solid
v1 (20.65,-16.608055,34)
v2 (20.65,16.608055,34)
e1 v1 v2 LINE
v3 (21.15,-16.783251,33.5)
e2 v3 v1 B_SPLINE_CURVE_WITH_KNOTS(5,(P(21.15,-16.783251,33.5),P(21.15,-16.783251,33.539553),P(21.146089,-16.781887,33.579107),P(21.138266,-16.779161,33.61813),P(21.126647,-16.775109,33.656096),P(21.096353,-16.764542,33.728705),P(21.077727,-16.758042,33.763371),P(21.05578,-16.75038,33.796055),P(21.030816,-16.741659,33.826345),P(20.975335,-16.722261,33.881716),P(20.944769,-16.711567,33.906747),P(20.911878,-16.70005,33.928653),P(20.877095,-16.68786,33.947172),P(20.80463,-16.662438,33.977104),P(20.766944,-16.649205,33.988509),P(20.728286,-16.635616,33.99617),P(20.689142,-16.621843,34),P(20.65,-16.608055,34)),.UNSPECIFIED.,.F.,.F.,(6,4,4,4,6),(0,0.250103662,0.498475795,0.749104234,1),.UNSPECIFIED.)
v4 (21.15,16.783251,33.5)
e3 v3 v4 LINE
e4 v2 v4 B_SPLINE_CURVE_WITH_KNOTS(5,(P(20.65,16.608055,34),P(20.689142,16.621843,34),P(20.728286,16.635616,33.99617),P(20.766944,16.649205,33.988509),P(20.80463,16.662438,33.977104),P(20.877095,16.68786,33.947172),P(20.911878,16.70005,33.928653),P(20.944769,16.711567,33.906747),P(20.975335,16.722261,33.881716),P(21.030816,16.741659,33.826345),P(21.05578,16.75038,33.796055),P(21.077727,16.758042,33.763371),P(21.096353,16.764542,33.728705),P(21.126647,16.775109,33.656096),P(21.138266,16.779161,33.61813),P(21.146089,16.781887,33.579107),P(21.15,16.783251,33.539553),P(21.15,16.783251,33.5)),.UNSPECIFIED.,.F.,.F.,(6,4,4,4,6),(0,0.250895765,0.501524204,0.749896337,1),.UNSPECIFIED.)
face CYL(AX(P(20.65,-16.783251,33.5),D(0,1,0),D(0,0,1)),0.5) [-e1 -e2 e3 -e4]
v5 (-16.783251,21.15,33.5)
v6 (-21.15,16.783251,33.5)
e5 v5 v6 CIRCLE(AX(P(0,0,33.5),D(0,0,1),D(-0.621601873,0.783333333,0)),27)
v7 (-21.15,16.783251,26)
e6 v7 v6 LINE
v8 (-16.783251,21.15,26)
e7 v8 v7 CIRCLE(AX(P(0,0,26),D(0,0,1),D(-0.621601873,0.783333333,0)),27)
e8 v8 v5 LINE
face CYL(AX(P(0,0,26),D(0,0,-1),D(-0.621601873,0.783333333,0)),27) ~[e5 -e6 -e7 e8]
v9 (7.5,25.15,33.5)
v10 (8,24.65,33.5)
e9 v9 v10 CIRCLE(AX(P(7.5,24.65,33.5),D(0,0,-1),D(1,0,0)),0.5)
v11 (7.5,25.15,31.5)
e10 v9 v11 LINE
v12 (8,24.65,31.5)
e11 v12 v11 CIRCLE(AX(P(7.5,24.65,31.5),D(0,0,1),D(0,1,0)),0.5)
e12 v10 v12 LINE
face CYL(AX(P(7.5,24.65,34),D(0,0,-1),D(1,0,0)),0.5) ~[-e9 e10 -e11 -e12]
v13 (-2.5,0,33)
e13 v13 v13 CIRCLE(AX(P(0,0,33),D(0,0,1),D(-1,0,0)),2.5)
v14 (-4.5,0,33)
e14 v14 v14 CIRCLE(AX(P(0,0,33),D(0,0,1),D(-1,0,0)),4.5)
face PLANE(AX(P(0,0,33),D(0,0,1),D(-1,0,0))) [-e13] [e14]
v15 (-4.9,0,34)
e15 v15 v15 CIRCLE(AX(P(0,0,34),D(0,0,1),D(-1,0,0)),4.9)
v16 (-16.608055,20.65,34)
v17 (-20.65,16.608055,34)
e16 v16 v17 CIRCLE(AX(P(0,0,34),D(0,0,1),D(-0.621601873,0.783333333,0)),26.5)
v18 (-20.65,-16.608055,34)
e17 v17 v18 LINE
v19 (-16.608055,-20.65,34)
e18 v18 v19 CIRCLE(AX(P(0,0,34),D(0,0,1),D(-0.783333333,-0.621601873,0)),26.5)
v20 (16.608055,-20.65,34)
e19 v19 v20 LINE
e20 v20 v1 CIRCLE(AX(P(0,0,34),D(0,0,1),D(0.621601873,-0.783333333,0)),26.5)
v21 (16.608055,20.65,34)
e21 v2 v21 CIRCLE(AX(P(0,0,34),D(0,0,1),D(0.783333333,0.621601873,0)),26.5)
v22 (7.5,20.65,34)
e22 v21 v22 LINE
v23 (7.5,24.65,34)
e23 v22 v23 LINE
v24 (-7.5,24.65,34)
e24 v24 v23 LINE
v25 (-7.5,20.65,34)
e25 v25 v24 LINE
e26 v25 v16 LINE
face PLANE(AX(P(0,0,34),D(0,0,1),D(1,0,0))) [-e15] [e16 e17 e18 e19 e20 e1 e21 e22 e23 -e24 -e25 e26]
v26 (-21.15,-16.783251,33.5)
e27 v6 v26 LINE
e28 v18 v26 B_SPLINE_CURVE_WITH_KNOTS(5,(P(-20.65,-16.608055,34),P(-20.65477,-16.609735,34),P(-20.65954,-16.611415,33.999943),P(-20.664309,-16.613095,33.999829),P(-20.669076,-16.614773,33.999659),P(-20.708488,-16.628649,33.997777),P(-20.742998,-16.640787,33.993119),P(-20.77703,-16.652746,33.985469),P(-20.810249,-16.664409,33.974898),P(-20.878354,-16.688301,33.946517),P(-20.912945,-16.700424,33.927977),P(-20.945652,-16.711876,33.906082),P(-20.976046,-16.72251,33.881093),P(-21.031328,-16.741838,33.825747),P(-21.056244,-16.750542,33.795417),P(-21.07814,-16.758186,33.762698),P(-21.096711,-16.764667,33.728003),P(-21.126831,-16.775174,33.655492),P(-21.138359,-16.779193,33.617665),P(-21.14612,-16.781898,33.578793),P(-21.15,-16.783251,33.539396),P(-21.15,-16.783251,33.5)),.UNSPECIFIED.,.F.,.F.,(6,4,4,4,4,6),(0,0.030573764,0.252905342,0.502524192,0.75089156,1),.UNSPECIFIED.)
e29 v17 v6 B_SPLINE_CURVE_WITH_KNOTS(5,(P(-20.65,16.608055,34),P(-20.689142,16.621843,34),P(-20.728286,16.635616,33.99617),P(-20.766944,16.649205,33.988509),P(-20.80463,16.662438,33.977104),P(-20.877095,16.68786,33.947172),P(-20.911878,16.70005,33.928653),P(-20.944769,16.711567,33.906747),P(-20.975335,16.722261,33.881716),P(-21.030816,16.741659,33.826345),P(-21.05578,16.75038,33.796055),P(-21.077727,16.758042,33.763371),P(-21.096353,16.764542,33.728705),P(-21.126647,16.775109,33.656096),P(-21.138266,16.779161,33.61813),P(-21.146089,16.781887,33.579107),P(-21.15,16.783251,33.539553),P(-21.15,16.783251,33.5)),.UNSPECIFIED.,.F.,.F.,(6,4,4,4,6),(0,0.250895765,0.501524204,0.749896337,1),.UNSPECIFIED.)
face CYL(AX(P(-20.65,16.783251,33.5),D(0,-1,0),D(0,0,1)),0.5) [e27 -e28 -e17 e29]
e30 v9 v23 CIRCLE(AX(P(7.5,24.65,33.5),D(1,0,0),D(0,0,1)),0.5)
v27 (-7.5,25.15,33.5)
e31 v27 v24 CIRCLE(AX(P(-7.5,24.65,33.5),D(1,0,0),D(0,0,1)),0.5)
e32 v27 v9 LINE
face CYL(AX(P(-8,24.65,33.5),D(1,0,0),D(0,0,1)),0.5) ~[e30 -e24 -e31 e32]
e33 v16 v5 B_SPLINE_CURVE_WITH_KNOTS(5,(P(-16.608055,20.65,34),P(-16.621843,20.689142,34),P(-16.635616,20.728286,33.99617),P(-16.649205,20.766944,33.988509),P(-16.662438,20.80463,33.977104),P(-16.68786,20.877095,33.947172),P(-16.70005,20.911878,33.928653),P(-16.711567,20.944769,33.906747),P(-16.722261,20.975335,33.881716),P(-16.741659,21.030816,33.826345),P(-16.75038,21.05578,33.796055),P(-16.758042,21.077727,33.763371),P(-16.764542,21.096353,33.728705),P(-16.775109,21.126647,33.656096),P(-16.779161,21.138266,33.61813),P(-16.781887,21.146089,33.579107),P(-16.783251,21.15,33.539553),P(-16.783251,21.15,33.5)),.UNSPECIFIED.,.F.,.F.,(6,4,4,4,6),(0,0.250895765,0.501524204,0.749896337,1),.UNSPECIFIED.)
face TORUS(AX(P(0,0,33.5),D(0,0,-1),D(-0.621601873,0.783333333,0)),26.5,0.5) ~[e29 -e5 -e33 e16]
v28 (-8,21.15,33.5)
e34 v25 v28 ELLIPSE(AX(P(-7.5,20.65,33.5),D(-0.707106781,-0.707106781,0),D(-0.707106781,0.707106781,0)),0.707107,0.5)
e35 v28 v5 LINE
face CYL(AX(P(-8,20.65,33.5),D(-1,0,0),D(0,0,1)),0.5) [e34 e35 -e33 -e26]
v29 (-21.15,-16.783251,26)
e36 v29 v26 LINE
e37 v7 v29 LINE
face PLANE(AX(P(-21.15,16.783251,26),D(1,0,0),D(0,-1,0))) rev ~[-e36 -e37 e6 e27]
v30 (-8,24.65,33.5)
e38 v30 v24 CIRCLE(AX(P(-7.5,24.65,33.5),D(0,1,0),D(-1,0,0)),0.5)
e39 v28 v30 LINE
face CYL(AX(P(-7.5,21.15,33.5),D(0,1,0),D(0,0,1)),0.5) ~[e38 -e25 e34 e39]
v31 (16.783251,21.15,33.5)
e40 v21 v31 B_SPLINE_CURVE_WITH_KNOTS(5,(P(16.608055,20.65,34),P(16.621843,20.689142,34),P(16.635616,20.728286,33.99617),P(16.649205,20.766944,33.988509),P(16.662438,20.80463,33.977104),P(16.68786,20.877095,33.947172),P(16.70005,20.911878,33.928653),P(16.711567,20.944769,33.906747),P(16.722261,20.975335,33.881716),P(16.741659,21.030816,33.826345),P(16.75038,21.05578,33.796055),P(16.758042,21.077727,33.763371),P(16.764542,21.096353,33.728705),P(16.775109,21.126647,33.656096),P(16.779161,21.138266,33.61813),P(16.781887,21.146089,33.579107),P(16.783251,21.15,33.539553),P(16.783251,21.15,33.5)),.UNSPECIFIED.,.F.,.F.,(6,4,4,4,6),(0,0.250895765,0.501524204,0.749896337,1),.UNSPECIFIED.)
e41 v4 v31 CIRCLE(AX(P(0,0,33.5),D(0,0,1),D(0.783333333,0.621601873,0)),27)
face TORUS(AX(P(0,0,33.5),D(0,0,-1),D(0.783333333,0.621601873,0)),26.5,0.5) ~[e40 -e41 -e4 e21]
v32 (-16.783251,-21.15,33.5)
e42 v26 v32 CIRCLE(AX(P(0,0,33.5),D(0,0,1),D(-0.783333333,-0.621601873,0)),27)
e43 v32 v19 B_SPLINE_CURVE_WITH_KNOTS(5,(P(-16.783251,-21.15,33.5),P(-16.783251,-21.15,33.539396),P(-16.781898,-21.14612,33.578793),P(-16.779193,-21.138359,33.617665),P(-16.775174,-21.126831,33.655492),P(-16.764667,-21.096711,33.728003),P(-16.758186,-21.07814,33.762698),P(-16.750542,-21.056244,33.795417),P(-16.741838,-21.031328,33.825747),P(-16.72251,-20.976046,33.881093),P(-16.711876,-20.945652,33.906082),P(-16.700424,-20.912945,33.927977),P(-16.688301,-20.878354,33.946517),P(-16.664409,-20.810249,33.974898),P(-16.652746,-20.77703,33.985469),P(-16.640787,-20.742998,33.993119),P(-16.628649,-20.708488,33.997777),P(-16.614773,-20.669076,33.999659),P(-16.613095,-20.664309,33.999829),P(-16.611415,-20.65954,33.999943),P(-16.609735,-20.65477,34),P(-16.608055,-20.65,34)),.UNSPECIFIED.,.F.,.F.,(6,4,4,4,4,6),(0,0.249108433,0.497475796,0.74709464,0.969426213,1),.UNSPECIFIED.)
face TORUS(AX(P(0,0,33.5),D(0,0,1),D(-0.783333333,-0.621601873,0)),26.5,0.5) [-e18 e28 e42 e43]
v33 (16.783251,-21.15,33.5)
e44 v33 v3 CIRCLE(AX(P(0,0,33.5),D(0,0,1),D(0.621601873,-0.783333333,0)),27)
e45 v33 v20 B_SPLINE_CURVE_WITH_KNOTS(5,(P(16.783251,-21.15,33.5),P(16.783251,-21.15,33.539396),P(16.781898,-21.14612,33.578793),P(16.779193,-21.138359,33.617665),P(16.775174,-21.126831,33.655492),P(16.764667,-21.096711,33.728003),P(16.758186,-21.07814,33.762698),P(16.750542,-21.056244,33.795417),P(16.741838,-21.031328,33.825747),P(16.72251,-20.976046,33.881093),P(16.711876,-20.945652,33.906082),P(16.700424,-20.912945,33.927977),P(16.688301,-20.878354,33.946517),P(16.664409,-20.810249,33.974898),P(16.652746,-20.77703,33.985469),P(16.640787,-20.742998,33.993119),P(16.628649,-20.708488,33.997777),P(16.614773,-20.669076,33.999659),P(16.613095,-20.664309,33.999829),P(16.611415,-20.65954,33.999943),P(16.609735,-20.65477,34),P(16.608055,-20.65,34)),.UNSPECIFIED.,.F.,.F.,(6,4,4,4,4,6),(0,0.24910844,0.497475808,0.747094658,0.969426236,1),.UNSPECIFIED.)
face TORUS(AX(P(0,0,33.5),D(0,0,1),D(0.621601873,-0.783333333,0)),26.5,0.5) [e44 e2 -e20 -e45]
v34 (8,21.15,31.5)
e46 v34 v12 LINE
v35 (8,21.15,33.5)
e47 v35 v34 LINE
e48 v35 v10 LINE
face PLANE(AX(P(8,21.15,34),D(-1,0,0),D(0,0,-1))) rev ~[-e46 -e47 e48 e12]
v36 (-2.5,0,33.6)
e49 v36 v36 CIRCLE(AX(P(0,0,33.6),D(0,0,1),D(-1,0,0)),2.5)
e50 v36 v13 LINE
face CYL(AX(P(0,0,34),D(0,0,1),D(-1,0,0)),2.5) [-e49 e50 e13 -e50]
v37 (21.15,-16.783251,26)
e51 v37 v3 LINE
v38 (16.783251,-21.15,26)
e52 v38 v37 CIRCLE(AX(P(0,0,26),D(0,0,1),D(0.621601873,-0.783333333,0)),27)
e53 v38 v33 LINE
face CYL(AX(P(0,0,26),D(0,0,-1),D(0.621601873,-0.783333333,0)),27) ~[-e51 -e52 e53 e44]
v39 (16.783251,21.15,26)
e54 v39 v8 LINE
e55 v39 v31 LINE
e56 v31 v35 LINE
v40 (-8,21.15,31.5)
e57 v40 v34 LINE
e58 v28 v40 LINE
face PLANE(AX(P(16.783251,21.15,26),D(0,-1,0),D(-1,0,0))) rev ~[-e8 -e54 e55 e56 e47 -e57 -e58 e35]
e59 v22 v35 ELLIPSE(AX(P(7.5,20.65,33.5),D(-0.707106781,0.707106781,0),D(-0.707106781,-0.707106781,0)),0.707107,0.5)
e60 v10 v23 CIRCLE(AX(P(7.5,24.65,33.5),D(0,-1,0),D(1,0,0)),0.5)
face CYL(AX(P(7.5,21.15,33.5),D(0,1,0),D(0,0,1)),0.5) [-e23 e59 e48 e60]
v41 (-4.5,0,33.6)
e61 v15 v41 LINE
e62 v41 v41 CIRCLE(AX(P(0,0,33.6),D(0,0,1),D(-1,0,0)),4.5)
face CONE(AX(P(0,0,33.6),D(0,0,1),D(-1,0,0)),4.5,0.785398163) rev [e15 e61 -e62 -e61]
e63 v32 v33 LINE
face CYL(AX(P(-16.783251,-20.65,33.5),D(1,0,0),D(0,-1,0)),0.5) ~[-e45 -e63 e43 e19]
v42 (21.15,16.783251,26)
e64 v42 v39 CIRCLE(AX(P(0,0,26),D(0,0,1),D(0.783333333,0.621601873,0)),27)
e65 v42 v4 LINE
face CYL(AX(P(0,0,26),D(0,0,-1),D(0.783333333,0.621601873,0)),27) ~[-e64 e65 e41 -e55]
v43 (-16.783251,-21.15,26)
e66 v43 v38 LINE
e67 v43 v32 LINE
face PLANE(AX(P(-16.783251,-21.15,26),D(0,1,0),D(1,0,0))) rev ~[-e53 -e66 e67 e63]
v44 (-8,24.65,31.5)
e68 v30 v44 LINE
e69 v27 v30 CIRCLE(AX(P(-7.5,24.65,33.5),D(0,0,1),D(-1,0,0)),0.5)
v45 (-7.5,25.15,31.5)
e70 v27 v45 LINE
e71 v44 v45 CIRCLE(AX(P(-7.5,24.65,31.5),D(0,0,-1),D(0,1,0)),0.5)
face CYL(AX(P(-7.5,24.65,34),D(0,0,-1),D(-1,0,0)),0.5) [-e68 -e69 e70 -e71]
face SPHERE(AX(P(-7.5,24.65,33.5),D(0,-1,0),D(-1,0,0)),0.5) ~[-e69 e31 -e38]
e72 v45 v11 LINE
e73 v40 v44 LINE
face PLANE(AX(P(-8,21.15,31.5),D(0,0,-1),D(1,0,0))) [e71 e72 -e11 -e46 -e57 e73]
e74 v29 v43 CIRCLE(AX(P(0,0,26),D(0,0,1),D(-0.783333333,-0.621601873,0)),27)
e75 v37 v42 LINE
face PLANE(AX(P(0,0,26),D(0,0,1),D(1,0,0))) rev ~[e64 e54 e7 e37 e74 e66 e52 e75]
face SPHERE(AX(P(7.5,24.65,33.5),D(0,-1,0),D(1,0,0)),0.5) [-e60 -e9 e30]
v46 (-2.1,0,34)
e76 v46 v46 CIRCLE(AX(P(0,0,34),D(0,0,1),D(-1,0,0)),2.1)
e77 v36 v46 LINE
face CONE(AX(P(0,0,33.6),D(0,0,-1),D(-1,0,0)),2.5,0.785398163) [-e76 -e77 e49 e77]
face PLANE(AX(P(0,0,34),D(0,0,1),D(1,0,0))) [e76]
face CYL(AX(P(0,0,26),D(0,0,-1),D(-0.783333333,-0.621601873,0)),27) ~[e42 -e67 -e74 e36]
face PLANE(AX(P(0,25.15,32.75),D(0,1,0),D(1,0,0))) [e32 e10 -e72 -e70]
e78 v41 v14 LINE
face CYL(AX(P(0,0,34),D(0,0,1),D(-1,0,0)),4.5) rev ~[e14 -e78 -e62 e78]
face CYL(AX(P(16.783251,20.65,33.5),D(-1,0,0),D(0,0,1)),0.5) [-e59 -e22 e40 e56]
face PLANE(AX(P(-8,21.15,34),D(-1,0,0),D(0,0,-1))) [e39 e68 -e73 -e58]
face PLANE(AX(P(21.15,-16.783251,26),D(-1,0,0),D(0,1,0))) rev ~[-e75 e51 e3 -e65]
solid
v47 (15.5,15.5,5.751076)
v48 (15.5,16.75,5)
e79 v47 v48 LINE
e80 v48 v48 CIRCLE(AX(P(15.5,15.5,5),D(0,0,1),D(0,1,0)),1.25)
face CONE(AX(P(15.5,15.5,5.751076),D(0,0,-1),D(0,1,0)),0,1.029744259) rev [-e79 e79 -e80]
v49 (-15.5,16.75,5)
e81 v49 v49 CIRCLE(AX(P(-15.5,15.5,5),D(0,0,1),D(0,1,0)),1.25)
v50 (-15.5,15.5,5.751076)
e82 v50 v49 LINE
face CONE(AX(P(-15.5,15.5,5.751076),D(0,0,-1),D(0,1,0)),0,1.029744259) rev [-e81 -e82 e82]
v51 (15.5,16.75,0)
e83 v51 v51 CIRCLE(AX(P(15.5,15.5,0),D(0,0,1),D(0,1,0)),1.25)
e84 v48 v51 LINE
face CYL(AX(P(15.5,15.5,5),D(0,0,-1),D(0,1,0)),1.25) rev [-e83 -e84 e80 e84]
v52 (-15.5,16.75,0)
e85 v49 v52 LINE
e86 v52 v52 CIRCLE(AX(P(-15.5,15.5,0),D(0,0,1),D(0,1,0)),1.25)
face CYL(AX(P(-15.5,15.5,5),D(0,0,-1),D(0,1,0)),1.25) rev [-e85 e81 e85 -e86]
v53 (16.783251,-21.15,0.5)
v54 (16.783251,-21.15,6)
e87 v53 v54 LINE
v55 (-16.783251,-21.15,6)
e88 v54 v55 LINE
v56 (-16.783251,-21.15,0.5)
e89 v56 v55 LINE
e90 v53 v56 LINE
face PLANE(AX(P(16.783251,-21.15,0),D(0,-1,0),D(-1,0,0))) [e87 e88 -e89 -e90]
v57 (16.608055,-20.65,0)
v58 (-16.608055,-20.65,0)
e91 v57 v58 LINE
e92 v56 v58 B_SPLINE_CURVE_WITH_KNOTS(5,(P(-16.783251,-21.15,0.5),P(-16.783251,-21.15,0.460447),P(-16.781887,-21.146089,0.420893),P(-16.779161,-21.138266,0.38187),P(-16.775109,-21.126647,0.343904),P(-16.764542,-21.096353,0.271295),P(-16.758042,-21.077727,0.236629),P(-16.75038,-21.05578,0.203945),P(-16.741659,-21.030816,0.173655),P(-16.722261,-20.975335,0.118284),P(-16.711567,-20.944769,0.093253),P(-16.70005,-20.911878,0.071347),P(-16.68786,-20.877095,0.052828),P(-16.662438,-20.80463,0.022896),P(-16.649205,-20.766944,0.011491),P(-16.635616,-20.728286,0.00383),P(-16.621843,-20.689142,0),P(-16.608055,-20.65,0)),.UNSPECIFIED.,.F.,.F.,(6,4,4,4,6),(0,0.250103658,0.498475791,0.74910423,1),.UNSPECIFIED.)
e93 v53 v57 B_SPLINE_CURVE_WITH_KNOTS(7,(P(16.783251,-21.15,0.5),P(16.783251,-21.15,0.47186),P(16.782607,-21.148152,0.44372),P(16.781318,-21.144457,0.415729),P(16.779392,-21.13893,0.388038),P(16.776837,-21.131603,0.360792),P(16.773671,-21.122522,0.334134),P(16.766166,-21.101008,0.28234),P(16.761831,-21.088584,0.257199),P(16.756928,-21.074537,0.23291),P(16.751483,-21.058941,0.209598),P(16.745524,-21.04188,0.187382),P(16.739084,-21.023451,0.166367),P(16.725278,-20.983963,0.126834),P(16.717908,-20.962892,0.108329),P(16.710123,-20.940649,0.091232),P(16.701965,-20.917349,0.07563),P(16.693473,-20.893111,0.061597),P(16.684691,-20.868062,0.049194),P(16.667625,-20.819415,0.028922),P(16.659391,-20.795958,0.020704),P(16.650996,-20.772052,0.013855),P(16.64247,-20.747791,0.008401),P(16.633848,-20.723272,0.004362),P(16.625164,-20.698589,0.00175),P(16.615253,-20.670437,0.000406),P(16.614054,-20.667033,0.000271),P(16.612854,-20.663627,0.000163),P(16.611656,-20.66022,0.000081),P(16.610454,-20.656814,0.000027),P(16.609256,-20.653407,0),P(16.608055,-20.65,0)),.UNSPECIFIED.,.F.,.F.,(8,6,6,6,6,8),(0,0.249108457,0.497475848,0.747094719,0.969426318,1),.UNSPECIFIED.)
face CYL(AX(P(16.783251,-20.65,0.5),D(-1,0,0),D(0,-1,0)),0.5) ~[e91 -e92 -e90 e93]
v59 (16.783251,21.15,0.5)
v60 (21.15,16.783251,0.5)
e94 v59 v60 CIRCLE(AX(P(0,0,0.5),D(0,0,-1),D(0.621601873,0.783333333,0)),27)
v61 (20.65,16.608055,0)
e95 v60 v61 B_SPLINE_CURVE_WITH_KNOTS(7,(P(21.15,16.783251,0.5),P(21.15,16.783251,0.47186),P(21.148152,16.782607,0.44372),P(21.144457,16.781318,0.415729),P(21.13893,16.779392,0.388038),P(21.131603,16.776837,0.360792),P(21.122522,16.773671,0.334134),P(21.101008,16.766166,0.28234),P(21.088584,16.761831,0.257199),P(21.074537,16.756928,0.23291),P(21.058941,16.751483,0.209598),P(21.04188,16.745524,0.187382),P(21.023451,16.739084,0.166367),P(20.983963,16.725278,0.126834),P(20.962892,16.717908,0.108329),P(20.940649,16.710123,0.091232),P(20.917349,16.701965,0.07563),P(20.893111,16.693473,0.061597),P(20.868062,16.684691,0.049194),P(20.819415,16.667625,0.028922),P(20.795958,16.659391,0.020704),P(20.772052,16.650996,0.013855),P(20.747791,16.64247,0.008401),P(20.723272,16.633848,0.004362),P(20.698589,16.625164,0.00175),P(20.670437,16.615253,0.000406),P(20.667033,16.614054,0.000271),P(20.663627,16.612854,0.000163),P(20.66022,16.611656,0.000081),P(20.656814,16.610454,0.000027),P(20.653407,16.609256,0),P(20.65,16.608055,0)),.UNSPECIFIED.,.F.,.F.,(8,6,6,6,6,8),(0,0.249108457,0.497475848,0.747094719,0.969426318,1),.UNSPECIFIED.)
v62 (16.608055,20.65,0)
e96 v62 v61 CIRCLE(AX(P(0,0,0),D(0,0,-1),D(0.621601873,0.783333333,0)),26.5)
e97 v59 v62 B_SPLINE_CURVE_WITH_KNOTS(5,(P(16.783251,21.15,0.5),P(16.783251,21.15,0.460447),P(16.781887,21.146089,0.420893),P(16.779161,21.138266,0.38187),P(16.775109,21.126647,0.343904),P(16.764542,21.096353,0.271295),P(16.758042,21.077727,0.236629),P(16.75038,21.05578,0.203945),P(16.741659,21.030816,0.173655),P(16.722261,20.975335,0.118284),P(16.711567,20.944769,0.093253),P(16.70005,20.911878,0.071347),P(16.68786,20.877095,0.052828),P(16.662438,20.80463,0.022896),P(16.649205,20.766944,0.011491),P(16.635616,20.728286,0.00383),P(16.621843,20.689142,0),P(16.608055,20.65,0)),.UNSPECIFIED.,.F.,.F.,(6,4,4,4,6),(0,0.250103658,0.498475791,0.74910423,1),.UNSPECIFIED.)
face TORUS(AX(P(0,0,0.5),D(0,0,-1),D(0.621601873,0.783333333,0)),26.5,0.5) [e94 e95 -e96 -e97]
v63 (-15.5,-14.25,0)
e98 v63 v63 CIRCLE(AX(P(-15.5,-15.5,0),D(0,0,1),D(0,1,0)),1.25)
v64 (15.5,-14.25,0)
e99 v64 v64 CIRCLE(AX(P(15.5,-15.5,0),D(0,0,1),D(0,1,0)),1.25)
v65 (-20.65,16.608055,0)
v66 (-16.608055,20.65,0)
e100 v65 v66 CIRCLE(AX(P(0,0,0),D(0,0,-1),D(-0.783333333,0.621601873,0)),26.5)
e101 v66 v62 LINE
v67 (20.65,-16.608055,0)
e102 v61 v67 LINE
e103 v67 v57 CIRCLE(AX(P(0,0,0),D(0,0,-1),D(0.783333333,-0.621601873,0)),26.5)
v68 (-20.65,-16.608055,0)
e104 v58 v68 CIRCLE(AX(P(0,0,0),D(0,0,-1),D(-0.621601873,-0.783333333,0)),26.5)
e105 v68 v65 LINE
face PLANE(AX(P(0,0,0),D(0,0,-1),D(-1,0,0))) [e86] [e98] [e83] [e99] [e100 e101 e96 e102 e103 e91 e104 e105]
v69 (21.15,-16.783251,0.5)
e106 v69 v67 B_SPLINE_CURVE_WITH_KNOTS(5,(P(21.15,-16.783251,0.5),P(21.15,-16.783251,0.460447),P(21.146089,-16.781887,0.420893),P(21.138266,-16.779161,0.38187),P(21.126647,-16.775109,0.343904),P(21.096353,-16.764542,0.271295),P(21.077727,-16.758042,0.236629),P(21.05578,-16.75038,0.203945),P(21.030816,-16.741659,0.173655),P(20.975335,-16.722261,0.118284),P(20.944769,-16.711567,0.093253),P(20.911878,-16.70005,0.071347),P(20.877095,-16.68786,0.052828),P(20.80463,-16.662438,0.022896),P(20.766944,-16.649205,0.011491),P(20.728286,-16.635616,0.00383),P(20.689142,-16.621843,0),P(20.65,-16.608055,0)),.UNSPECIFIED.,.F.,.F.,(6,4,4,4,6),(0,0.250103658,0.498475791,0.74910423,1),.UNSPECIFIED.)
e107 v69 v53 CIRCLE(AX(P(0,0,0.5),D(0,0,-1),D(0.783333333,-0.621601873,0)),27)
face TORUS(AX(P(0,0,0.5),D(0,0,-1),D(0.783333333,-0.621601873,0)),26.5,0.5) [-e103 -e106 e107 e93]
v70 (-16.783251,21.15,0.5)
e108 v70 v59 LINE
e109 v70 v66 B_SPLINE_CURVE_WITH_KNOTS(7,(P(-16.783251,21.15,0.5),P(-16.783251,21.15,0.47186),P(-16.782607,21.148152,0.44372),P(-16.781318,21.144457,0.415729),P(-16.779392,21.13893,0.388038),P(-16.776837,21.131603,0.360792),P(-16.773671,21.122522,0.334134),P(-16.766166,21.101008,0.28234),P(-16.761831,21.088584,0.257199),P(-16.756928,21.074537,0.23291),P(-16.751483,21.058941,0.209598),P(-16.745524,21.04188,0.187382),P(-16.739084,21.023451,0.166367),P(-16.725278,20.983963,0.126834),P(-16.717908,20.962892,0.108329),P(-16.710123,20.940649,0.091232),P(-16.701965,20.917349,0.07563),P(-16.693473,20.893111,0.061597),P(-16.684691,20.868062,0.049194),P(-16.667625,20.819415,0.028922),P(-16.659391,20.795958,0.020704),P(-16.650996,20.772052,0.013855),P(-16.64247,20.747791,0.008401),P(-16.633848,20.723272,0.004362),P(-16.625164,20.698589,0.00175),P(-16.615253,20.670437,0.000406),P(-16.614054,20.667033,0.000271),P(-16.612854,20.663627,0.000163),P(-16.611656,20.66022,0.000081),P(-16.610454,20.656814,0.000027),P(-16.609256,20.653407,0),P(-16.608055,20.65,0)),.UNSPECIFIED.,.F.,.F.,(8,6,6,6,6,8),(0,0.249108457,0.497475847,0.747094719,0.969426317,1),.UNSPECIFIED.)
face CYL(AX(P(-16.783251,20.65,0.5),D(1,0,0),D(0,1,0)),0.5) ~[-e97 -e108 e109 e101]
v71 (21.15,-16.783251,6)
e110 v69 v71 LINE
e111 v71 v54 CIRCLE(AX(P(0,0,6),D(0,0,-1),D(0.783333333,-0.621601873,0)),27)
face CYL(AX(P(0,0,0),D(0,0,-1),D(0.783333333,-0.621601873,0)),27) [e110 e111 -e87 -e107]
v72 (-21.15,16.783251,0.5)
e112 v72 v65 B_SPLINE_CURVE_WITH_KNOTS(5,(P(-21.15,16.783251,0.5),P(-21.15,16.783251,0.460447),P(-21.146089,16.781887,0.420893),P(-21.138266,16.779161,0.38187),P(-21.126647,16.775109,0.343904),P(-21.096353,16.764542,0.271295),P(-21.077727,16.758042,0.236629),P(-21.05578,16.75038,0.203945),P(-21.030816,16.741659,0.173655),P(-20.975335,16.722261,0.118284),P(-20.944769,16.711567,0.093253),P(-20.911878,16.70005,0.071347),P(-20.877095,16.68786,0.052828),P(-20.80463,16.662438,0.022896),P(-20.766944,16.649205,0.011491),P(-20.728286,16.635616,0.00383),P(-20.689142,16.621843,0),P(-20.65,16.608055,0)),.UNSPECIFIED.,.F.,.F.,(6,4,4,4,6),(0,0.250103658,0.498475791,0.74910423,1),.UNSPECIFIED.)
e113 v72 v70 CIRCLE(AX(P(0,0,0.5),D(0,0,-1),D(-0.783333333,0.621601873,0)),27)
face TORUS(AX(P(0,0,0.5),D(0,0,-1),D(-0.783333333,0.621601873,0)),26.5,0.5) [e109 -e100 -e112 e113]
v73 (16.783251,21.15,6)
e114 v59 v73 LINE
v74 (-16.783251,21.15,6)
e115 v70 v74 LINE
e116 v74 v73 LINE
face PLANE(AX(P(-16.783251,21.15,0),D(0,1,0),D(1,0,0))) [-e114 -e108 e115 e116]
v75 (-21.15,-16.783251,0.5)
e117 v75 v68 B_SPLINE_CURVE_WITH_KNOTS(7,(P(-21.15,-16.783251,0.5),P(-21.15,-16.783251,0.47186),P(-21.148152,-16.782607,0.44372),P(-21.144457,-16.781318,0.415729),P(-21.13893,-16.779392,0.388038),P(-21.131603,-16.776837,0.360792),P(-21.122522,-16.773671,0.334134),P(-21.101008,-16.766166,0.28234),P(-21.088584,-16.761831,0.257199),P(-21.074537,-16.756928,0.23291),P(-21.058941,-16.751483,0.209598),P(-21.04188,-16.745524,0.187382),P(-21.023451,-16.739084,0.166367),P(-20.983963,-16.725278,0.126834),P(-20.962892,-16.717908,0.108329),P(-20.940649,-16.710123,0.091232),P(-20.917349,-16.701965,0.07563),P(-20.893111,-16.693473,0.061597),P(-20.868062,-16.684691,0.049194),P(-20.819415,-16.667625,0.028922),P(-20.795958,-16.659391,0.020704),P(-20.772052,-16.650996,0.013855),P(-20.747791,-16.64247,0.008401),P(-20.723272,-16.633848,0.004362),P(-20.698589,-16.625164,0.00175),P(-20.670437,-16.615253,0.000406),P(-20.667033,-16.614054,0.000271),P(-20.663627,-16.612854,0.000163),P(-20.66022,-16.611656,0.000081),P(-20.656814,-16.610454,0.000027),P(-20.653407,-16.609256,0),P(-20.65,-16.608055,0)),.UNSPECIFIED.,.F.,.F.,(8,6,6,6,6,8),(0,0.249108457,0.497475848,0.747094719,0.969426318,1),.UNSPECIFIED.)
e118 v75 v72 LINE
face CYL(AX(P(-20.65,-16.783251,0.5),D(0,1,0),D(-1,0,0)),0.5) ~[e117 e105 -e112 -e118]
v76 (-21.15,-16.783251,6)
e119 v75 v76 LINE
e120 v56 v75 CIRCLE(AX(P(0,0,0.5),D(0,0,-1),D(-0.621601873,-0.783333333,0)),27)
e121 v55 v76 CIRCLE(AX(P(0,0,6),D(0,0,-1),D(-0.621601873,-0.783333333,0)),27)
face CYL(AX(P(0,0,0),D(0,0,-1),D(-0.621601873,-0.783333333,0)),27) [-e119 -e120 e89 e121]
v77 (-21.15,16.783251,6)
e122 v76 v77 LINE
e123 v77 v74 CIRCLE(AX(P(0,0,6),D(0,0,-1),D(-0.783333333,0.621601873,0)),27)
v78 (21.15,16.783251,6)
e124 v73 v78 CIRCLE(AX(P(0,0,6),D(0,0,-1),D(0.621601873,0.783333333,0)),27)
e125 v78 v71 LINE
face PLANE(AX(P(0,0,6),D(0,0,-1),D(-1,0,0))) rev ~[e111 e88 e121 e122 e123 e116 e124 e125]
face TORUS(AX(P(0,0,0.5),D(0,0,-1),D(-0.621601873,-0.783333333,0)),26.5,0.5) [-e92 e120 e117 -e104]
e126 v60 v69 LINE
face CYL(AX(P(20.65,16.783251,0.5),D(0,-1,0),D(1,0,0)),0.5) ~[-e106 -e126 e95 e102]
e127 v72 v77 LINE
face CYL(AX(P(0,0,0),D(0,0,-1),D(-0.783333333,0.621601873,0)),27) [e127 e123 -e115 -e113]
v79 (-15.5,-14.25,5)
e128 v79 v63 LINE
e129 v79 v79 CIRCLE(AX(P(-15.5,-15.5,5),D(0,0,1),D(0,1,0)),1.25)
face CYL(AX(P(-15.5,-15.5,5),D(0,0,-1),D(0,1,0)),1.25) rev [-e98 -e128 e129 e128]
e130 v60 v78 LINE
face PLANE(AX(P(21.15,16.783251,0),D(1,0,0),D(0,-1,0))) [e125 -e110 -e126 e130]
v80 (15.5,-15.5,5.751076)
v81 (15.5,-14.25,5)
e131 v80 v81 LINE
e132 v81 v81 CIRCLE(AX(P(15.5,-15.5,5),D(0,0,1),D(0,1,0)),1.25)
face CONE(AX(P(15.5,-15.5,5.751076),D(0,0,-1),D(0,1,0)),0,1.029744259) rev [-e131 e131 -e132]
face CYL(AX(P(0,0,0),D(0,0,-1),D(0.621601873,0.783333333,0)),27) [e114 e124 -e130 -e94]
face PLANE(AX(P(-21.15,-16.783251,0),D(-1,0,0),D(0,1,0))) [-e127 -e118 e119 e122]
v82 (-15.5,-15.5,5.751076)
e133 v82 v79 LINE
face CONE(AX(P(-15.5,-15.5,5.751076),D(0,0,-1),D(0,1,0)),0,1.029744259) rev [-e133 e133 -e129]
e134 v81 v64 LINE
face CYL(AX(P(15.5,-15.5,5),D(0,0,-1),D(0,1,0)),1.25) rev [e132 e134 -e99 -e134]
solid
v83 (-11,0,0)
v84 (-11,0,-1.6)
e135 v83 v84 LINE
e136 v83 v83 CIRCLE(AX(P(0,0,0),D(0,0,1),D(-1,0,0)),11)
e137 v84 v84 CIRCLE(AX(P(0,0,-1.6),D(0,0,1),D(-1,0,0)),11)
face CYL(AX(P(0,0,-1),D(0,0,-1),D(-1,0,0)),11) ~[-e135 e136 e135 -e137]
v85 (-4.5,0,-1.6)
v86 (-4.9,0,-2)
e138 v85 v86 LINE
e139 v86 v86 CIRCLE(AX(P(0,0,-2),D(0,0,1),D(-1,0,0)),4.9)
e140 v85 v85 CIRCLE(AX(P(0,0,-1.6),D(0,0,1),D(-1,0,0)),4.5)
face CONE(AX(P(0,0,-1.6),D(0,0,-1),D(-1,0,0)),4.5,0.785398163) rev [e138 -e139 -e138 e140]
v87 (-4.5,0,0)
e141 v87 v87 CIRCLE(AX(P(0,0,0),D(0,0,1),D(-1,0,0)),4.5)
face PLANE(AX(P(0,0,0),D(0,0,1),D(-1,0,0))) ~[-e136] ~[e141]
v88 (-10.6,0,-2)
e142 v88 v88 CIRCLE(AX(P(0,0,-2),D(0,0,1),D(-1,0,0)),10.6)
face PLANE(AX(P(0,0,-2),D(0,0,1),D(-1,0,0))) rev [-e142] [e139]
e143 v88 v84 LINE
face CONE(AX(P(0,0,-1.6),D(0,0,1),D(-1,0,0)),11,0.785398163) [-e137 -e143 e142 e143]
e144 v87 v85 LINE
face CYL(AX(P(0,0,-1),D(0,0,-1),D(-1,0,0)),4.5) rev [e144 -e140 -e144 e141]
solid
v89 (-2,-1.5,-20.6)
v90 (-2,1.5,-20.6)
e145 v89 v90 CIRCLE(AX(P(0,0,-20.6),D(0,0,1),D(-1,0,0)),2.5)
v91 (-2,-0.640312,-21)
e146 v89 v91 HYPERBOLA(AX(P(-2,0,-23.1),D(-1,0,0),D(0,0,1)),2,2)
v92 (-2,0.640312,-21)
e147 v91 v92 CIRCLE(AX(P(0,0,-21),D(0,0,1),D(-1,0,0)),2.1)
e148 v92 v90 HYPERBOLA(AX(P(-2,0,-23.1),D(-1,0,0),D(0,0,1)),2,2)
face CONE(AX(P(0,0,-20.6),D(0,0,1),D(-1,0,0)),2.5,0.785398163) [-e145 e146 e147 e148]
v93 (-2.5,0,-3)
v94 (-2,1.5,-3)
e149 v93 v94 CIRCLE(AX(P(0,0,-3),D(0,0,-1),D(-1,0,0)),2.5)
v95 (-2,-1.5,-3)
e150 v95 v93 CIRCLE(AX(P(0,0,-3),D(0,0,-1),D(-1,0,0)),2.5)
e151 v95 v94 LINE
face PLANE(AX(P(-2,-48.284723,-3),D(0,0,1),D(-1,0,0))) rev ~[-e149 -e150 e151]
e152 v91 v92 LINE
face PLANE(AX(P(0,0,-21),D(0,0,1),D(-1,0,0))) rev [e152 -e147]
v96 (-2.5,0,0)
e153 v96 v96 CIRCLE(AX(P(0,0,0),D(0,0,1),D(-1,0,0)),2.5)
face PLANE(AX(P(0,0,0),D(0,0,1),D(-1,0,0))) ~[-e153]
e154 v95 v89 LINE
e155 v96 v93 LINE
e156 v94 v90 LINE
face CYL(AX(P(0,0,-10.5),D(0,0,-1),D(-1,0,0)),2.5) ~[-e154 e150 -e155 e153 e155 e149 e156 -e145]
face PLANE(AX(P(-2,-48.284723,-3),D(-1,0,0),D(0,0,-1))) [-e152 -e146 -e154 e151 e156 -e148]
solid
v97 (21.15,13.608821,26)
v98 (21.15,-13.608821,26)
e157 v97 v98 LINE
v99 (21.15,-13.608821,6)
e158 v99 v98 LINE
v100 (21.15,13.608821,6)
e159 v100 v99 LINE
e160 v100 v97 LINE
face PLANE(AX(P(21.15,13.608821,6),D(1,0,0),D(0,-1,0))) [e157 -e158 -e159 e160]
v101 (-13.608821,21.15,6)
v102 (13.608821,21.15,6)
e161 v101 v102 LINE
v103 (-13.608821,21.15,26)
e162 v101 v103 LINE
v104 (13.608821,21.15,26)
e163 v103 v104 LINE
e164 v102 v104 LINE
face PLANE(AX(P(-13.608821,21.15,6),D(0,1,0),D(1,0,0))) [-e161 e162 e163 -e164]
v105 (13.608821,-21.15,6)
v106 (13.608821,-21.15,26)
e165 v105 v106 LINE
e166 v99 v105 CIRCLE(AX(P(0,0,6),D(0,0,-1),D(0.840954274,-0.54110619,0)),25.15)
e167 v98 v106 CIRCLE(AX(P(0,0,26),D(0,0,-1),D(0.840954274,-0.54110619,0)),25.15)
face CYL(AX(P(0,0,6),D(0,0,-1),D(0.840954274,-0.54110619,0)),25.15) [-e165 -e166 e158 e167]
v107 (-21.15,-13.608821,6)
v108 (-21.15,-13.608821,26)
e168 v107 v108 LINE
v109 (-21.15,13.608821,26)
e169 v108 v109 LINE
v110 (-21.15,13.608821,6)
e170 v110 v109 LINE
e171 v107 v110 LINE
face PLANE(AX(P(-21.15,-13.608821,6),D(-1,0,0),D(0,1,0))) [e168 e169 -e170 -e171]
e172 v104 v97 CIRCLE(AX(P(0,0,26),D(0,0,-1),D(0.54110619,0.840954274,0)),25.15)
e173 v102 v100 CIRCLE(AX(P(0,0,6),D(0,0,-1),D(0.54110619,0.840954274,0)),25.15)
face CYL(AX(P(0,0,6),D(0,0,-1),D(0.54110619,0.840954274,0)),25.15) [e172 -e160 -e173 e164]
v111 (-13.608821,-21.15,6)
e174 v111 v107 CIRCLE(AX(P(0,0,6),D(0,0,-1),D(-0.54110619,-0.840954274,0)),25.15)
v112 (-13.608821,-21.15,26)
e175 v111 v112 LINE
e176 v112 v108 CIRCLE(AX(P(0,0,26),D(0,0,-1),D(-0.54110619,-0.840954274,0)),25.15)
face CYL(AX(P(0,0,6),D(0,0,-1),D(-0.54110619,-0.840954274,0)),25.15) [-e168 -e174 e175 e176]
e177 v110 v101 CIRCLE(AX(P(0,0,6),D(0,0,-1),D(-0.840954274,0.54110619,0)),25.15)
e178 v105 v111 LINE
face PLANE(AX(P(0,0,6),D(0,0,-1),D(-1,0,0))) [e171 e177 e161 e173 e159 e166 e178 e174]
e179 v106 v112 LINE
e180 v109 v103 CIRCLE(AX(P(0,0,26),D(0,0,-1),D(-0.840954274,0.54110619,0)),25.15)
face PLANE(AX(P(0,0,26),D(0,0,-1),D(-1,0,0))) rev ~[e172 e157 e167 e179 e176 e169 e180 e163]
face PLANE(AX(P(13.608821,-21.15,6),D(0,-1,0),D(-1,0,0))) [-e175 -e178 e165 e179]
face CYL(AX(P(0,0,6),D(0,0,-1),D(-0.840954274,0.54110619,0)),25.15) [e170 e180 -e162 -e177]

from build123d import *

# Parameters (mm, degrees)
BOSS_EXTRU_1_DEPTH           = 6
BOSS_EXTRU_2_DEPTH           = 20
BOSS_EXTRU_3_DEPTH           = 8
ESQUISSE4_W                  = 16
ESQUISSE4_H                  = 2.5
BOSS_EXTRU_4_DEPTH           = 4
ESQUISSE5_W                  = 2
ESQUISSE5_H                  = 6.5
ESQUISSE5_W_2                = 21
ESQUISSE5_H_2                = 2.5
CONG_1_R                     = 0.5
CONG_2_R                     = 0.5
CHANFREIN1_SIZE              = 0.4
CHANFREIN2_SIZE              = 0.4
ENL_V_MAT_EXTRU_1_DEPTH      = 48.284722808
ENL_V_MAT_EXTRU_1_DEPTH_BACK = 48.284722808
ESQUISSE6_W                  = 18
ESQUISSE6_H                  = 0.5
ESQUISSE7_R                  = 4.5
ESQUISSE7_R_2                = 2.5
ENL_V_MAT_EXTRU_2_DEPTH      = 1
CHANFREIN3_SIZE              = 0.4
TROU_TARAUD_M31_AT_2_COUNT   = 2
TROU_TARAUD_M31_AT_2_PITCH   = 31
TROU_TARAUD_M31_AT_3_COUNT   = 2
TROU_TARAUD_M31_AT_3_PITCH   = 43.840620434
TROU_TARAUD_M31_AT_4_COUNT   = 2
TROU_TARAUD_M31_AT_4_PITCH   = 31


with BuildPart() as part:
    # Esquisse1 → Boss.-Extru.1 (new body)
    with BuildSketch(Plane.XY):
        with BuildLine():
            Line((21.15, 16.783250579), (21.15, -16.783250579))
            ThreePointArc((21.15, -16.783250579), (19.091883092, -19.091883092), (16.783250579, -21.15))
            Line((16.783250579, -21.15), (-16.783250579, -21.15))
            ThreePointArc((-16.783250579, -21.15), (-19.091883092, -19.091883092), (-21.15, -16.783250579))
            Line((-21.15, -16.783250579), (-21.15, 16.783250579))
            ThreePointArc((-21.15, 16.783250579), (-19.091883092, 19.091883092), (-16.783250579, 21.15))
            Line((-16.783250579, 21.15), (16.783250579, 21.15))
            ThreePointArc((16.783250579, 21.15), (19.091883092, 19.091883092), (21.15, 16.783250579))
        make_face()
    extrude(amount=BOSS_EXTRU_1_DEPTH)

    # Congé2
    cong_2_edges = [part.edges().sort_by_distance(p)[0] for p in [
        (0, 21.15, 0),
        (19.091883092, 19.091883092, 0),
        (21.15, 0, 0),
        (19.091883092, -19.091883092, 0),
        (0, -21.15, 0),
        (-19.091883092, -19.091883092, 0),
        (-21.15, 0, 0),
        (-19.091883092, 19.091883092, 0),
    ]]
    fillet(cong_2_edges, radius=CONG_2_R)

    # Esquisse9 → Trou taraudé M31 (revolve, cut)
    with BuildSketch(Plane(origin=(15.5, -15.5, 0), x_dir=(0, 1, 0), z_dir=(1, 0, 0))):
        Polygon((0, 0), (0, 5.751075774), (1.25, 5), (1.25, 0), align=None)
    trou_taraud_m31 = revolve(axis=Axis((15.5, -15.5, -6.35), (0, 0, 1)), mode=Mode.SUBTRACT)

    # Trou taraudé M31 at 2: Trou taraudé M31 ×2
    with Locations(*[(0, i * TROU_TARAUD_M31_AT_2_PITCH, 0) for i in range(1, TROU_TARAUD_M31_AT_2_COUNT)]):
        add(trou_taraud_m31, mode=Mode.SUBTRACT)

    # Trou taraudé M31 at 3: Trou taraudé M31 ×2
    with Locations(*[Vector(-0.7071067811865476, 0.7071067811865476, 0) * (i * TROU_TARAUD_M31_AT_3_PITCH) for i in range(1, TROU_TARAUD_M31_AT_3_COUNT)]):
        add(trou_taraud_m31, mode=Mode.SUBTRACT)

    # Trou taraudé M31 at 4: Trou taraudé M31 ×2
    with Locations(*[(-i * TROU_TARAUD_M31_AT_4_PITCH, 0, 0) for i in range(1, TROU_TARAUD_M31_AT_4_COUNT)]):
        add(trou_taraud_m31, mode=Mode.SUBTRACT)


with BuildPart() as body_2:
    # Esquisse2 → Boss.-Extru.2 (new body)
    with BuildSketch(Plane.XY.offset(6)):
        with BuildLine():
            Line((-13.608820669, 21.15), (13.608820669, 21.15))
            ThreePointArc((13.608820669, 21.15), (17.783735547, 17.783735547), (21.15, 13.608820669))
            Line((21.15, 13.608820669), (21.15, -13.608820669))
            ThreePointArc((21.15, -13.608820669), (17.783735547, -17.783735547), (13.608820669, -21.15))
            Line((13.608820669, -21.15), (-13.608820669, -21.15))
            ThreePointArc((-13.608820669, -21.15), (-17.783735547, -17.783735547), (-21.15, -13.608820669))
            Line((-21.15, -13.608820669), (-21.15, 13.608820669))
            ThreePointArc((-21.15, 13.608820669), (-17.783735547, 17.783735547), (-13.608820669, 21.15))
        make_face()
    extrude(amount=BOSS_EXTRU_2_DEPTH)


with BuildPart() as body_3:
    # Esquisse3 → Boss.-Extru.3 (new body)
    with BuildSketch(Plane.XY.offset(26)):
        with BuildLine():
            Line((-16.783250579, -21.15), (16.783250579, -21.15))
            ThreePointArc((16.783250579, -21.15), (19.091883092, -19.091883092), (21.15, -16.783250579))
            Line((21.15, -16.783250579), (21.15, 16.783250579))
            ThreePointArc((21.15, 16.783250579), (19.091883092, 19.091883092), (16.783250579, 21.15))
            Line((16.783250579, 21.15), (-16.783250579, 21.15))
            ThreePointArc((-16.783250579, 21.15), (-19.091883092, 19.091883092), (-21.15, 16.783250579))
            Line((-21.15, 16.783250579), (-21.15, -16.783250579))
            ThreePointArc((-21.15, -16.783250579), (-19.091883092, -19.091883092), (-16.783250579, -21.15))
        make_face()
    extrude(amount=BOSS_EXTRU_3_DEPTH)

    # Esquisse4 → Boss.-Extru.4 (add)
    with BuildSketch(Plane(origin=(0, 21.15, 0), x_dir=(1, 0, 0), z_dir=(0, 1, 0))):
        with Locations((0, -32.75)):
            Rectangle(ESQUISSE4_W, ESQUISSE4_H)
    extrude(amount=BOSS_EXTRU_4_DEPTH)

    # Congé1
    cong_1_edges = [body_3.edges().sort_by_distance(p)[0] for p in [
        (19.091883092, -19.091883092, 34),
        (21.15, 0, 34),
        (19.091883092, 19.091883092, 34),
        (12.39162529, 21.15, 34),
        (-19.091883092, 19.091883092, 34),
        (-21.15, 0, 34),
        (-12.39162529, 21.15, 34),
        (8, 23.15, 34),
        (-8, 23.15, 34),
        (8, 25.15, 32.75),
        (-8, 25.15, 32.75),
        (0, 25.15, 34),
        (-19.091883092, -19.091883092, 34),
        (0, -21.15, 34),
    ]]
    fillet(cong_1_edges, radius=CONG_1_R)

    # Esquisse7 → Enlèv. mat.-Extru.2 (cut)
    with BuildSketch(Plane.XY.offset(34)):
        with Locations(Location((0, 0, 0), (0, 0, 180))):
            Circle(ESQUISSE7_R)
        with Locations(Location((0, 0, 0), (0, 0, 180))):
            Circle(ESQUISSE7_R_2, mode=Mode.SUBTRACT)
    extrude(amount=-ENL_V_MAT_EXTRU_2_DEPTH, mode=Mode.SUBTRACT)

    # Chanfrein3
    chanfrein3_edges = [body_3.edges().sort_by_distance(p)[0] for p in [
        (4.5, 0, 34),
        (2.5, 0, 34),
    ]]
    chamfer(chanfrein3_edges, length=CHANFREIN3_SIZE)


with BuildPart() as body_4:
    # Esquisse5 → Révolution1 (revolve)
    with BuildSketch(Plane(origin=(0, 0, 0), x_dir=(0, 0, -1), z_dir=(1, 0, 0)), mode=Mode.PRIVATE) as r_volution1_sk:
        with Locations((1, 7.75)):
            Rectangle(ESQUISSE5_W, ESQUISSE5_H)
        with Locations((10.5, 1.25)):
            Rectangle(ESQUISSE5_W_2, ESQUISSE5_H_2)
    revolve(r_volution1_sk.sketch.rotate(Axis((0, 0, 0), (0, 0, 1)), 90), axis=Axis((0, 0, 0), (0, 0, 1)))

    # Chanfrein1
    chanfrein1_edges = [body_4.edges().sort_by_distance(p)[0] for p in [
        (2.5, 0, -21),
    ]]
    chamfer(chanfrein1_edges, length=CHANFREIN1_SIZE)

    # Chanfrein2
    chanfrein2_edges = [body_4.edges().sort_by_distance(p)[0] for p in [
        (11, 0, -2),
        (4.5, 0, -2),
    ]]
    chamfer(chanfrein2_edges, length=CHANFREIN2_SIZE)

    # Esquisse6 → Enlèv. mat.-Extru.1 (cut, two sides: drawn at the far end of the back side and taken through both)
    with BuildSketch(Plane(origin=(0, 0, 0), x_dir=(0, 0, -1), z_dir=(0, 1, 0)).offset(-ENL_V_MAT_EXTRU_1_DEPTH_BACK)):
        with Locations((12, 2.25)):
            Rectangle(ESQUISSE6_W, ESQUISSE6_H)
    extrude(amount=ENL_V_MAT_EXTRU_1_DEPTH + ENL_V_MAT_EXTRU_1_DEPTH_BACK, mode=Mode.SUBTRACT)


solid = Compound([part.part, body_2.part, body_3.part, body_4.part])
